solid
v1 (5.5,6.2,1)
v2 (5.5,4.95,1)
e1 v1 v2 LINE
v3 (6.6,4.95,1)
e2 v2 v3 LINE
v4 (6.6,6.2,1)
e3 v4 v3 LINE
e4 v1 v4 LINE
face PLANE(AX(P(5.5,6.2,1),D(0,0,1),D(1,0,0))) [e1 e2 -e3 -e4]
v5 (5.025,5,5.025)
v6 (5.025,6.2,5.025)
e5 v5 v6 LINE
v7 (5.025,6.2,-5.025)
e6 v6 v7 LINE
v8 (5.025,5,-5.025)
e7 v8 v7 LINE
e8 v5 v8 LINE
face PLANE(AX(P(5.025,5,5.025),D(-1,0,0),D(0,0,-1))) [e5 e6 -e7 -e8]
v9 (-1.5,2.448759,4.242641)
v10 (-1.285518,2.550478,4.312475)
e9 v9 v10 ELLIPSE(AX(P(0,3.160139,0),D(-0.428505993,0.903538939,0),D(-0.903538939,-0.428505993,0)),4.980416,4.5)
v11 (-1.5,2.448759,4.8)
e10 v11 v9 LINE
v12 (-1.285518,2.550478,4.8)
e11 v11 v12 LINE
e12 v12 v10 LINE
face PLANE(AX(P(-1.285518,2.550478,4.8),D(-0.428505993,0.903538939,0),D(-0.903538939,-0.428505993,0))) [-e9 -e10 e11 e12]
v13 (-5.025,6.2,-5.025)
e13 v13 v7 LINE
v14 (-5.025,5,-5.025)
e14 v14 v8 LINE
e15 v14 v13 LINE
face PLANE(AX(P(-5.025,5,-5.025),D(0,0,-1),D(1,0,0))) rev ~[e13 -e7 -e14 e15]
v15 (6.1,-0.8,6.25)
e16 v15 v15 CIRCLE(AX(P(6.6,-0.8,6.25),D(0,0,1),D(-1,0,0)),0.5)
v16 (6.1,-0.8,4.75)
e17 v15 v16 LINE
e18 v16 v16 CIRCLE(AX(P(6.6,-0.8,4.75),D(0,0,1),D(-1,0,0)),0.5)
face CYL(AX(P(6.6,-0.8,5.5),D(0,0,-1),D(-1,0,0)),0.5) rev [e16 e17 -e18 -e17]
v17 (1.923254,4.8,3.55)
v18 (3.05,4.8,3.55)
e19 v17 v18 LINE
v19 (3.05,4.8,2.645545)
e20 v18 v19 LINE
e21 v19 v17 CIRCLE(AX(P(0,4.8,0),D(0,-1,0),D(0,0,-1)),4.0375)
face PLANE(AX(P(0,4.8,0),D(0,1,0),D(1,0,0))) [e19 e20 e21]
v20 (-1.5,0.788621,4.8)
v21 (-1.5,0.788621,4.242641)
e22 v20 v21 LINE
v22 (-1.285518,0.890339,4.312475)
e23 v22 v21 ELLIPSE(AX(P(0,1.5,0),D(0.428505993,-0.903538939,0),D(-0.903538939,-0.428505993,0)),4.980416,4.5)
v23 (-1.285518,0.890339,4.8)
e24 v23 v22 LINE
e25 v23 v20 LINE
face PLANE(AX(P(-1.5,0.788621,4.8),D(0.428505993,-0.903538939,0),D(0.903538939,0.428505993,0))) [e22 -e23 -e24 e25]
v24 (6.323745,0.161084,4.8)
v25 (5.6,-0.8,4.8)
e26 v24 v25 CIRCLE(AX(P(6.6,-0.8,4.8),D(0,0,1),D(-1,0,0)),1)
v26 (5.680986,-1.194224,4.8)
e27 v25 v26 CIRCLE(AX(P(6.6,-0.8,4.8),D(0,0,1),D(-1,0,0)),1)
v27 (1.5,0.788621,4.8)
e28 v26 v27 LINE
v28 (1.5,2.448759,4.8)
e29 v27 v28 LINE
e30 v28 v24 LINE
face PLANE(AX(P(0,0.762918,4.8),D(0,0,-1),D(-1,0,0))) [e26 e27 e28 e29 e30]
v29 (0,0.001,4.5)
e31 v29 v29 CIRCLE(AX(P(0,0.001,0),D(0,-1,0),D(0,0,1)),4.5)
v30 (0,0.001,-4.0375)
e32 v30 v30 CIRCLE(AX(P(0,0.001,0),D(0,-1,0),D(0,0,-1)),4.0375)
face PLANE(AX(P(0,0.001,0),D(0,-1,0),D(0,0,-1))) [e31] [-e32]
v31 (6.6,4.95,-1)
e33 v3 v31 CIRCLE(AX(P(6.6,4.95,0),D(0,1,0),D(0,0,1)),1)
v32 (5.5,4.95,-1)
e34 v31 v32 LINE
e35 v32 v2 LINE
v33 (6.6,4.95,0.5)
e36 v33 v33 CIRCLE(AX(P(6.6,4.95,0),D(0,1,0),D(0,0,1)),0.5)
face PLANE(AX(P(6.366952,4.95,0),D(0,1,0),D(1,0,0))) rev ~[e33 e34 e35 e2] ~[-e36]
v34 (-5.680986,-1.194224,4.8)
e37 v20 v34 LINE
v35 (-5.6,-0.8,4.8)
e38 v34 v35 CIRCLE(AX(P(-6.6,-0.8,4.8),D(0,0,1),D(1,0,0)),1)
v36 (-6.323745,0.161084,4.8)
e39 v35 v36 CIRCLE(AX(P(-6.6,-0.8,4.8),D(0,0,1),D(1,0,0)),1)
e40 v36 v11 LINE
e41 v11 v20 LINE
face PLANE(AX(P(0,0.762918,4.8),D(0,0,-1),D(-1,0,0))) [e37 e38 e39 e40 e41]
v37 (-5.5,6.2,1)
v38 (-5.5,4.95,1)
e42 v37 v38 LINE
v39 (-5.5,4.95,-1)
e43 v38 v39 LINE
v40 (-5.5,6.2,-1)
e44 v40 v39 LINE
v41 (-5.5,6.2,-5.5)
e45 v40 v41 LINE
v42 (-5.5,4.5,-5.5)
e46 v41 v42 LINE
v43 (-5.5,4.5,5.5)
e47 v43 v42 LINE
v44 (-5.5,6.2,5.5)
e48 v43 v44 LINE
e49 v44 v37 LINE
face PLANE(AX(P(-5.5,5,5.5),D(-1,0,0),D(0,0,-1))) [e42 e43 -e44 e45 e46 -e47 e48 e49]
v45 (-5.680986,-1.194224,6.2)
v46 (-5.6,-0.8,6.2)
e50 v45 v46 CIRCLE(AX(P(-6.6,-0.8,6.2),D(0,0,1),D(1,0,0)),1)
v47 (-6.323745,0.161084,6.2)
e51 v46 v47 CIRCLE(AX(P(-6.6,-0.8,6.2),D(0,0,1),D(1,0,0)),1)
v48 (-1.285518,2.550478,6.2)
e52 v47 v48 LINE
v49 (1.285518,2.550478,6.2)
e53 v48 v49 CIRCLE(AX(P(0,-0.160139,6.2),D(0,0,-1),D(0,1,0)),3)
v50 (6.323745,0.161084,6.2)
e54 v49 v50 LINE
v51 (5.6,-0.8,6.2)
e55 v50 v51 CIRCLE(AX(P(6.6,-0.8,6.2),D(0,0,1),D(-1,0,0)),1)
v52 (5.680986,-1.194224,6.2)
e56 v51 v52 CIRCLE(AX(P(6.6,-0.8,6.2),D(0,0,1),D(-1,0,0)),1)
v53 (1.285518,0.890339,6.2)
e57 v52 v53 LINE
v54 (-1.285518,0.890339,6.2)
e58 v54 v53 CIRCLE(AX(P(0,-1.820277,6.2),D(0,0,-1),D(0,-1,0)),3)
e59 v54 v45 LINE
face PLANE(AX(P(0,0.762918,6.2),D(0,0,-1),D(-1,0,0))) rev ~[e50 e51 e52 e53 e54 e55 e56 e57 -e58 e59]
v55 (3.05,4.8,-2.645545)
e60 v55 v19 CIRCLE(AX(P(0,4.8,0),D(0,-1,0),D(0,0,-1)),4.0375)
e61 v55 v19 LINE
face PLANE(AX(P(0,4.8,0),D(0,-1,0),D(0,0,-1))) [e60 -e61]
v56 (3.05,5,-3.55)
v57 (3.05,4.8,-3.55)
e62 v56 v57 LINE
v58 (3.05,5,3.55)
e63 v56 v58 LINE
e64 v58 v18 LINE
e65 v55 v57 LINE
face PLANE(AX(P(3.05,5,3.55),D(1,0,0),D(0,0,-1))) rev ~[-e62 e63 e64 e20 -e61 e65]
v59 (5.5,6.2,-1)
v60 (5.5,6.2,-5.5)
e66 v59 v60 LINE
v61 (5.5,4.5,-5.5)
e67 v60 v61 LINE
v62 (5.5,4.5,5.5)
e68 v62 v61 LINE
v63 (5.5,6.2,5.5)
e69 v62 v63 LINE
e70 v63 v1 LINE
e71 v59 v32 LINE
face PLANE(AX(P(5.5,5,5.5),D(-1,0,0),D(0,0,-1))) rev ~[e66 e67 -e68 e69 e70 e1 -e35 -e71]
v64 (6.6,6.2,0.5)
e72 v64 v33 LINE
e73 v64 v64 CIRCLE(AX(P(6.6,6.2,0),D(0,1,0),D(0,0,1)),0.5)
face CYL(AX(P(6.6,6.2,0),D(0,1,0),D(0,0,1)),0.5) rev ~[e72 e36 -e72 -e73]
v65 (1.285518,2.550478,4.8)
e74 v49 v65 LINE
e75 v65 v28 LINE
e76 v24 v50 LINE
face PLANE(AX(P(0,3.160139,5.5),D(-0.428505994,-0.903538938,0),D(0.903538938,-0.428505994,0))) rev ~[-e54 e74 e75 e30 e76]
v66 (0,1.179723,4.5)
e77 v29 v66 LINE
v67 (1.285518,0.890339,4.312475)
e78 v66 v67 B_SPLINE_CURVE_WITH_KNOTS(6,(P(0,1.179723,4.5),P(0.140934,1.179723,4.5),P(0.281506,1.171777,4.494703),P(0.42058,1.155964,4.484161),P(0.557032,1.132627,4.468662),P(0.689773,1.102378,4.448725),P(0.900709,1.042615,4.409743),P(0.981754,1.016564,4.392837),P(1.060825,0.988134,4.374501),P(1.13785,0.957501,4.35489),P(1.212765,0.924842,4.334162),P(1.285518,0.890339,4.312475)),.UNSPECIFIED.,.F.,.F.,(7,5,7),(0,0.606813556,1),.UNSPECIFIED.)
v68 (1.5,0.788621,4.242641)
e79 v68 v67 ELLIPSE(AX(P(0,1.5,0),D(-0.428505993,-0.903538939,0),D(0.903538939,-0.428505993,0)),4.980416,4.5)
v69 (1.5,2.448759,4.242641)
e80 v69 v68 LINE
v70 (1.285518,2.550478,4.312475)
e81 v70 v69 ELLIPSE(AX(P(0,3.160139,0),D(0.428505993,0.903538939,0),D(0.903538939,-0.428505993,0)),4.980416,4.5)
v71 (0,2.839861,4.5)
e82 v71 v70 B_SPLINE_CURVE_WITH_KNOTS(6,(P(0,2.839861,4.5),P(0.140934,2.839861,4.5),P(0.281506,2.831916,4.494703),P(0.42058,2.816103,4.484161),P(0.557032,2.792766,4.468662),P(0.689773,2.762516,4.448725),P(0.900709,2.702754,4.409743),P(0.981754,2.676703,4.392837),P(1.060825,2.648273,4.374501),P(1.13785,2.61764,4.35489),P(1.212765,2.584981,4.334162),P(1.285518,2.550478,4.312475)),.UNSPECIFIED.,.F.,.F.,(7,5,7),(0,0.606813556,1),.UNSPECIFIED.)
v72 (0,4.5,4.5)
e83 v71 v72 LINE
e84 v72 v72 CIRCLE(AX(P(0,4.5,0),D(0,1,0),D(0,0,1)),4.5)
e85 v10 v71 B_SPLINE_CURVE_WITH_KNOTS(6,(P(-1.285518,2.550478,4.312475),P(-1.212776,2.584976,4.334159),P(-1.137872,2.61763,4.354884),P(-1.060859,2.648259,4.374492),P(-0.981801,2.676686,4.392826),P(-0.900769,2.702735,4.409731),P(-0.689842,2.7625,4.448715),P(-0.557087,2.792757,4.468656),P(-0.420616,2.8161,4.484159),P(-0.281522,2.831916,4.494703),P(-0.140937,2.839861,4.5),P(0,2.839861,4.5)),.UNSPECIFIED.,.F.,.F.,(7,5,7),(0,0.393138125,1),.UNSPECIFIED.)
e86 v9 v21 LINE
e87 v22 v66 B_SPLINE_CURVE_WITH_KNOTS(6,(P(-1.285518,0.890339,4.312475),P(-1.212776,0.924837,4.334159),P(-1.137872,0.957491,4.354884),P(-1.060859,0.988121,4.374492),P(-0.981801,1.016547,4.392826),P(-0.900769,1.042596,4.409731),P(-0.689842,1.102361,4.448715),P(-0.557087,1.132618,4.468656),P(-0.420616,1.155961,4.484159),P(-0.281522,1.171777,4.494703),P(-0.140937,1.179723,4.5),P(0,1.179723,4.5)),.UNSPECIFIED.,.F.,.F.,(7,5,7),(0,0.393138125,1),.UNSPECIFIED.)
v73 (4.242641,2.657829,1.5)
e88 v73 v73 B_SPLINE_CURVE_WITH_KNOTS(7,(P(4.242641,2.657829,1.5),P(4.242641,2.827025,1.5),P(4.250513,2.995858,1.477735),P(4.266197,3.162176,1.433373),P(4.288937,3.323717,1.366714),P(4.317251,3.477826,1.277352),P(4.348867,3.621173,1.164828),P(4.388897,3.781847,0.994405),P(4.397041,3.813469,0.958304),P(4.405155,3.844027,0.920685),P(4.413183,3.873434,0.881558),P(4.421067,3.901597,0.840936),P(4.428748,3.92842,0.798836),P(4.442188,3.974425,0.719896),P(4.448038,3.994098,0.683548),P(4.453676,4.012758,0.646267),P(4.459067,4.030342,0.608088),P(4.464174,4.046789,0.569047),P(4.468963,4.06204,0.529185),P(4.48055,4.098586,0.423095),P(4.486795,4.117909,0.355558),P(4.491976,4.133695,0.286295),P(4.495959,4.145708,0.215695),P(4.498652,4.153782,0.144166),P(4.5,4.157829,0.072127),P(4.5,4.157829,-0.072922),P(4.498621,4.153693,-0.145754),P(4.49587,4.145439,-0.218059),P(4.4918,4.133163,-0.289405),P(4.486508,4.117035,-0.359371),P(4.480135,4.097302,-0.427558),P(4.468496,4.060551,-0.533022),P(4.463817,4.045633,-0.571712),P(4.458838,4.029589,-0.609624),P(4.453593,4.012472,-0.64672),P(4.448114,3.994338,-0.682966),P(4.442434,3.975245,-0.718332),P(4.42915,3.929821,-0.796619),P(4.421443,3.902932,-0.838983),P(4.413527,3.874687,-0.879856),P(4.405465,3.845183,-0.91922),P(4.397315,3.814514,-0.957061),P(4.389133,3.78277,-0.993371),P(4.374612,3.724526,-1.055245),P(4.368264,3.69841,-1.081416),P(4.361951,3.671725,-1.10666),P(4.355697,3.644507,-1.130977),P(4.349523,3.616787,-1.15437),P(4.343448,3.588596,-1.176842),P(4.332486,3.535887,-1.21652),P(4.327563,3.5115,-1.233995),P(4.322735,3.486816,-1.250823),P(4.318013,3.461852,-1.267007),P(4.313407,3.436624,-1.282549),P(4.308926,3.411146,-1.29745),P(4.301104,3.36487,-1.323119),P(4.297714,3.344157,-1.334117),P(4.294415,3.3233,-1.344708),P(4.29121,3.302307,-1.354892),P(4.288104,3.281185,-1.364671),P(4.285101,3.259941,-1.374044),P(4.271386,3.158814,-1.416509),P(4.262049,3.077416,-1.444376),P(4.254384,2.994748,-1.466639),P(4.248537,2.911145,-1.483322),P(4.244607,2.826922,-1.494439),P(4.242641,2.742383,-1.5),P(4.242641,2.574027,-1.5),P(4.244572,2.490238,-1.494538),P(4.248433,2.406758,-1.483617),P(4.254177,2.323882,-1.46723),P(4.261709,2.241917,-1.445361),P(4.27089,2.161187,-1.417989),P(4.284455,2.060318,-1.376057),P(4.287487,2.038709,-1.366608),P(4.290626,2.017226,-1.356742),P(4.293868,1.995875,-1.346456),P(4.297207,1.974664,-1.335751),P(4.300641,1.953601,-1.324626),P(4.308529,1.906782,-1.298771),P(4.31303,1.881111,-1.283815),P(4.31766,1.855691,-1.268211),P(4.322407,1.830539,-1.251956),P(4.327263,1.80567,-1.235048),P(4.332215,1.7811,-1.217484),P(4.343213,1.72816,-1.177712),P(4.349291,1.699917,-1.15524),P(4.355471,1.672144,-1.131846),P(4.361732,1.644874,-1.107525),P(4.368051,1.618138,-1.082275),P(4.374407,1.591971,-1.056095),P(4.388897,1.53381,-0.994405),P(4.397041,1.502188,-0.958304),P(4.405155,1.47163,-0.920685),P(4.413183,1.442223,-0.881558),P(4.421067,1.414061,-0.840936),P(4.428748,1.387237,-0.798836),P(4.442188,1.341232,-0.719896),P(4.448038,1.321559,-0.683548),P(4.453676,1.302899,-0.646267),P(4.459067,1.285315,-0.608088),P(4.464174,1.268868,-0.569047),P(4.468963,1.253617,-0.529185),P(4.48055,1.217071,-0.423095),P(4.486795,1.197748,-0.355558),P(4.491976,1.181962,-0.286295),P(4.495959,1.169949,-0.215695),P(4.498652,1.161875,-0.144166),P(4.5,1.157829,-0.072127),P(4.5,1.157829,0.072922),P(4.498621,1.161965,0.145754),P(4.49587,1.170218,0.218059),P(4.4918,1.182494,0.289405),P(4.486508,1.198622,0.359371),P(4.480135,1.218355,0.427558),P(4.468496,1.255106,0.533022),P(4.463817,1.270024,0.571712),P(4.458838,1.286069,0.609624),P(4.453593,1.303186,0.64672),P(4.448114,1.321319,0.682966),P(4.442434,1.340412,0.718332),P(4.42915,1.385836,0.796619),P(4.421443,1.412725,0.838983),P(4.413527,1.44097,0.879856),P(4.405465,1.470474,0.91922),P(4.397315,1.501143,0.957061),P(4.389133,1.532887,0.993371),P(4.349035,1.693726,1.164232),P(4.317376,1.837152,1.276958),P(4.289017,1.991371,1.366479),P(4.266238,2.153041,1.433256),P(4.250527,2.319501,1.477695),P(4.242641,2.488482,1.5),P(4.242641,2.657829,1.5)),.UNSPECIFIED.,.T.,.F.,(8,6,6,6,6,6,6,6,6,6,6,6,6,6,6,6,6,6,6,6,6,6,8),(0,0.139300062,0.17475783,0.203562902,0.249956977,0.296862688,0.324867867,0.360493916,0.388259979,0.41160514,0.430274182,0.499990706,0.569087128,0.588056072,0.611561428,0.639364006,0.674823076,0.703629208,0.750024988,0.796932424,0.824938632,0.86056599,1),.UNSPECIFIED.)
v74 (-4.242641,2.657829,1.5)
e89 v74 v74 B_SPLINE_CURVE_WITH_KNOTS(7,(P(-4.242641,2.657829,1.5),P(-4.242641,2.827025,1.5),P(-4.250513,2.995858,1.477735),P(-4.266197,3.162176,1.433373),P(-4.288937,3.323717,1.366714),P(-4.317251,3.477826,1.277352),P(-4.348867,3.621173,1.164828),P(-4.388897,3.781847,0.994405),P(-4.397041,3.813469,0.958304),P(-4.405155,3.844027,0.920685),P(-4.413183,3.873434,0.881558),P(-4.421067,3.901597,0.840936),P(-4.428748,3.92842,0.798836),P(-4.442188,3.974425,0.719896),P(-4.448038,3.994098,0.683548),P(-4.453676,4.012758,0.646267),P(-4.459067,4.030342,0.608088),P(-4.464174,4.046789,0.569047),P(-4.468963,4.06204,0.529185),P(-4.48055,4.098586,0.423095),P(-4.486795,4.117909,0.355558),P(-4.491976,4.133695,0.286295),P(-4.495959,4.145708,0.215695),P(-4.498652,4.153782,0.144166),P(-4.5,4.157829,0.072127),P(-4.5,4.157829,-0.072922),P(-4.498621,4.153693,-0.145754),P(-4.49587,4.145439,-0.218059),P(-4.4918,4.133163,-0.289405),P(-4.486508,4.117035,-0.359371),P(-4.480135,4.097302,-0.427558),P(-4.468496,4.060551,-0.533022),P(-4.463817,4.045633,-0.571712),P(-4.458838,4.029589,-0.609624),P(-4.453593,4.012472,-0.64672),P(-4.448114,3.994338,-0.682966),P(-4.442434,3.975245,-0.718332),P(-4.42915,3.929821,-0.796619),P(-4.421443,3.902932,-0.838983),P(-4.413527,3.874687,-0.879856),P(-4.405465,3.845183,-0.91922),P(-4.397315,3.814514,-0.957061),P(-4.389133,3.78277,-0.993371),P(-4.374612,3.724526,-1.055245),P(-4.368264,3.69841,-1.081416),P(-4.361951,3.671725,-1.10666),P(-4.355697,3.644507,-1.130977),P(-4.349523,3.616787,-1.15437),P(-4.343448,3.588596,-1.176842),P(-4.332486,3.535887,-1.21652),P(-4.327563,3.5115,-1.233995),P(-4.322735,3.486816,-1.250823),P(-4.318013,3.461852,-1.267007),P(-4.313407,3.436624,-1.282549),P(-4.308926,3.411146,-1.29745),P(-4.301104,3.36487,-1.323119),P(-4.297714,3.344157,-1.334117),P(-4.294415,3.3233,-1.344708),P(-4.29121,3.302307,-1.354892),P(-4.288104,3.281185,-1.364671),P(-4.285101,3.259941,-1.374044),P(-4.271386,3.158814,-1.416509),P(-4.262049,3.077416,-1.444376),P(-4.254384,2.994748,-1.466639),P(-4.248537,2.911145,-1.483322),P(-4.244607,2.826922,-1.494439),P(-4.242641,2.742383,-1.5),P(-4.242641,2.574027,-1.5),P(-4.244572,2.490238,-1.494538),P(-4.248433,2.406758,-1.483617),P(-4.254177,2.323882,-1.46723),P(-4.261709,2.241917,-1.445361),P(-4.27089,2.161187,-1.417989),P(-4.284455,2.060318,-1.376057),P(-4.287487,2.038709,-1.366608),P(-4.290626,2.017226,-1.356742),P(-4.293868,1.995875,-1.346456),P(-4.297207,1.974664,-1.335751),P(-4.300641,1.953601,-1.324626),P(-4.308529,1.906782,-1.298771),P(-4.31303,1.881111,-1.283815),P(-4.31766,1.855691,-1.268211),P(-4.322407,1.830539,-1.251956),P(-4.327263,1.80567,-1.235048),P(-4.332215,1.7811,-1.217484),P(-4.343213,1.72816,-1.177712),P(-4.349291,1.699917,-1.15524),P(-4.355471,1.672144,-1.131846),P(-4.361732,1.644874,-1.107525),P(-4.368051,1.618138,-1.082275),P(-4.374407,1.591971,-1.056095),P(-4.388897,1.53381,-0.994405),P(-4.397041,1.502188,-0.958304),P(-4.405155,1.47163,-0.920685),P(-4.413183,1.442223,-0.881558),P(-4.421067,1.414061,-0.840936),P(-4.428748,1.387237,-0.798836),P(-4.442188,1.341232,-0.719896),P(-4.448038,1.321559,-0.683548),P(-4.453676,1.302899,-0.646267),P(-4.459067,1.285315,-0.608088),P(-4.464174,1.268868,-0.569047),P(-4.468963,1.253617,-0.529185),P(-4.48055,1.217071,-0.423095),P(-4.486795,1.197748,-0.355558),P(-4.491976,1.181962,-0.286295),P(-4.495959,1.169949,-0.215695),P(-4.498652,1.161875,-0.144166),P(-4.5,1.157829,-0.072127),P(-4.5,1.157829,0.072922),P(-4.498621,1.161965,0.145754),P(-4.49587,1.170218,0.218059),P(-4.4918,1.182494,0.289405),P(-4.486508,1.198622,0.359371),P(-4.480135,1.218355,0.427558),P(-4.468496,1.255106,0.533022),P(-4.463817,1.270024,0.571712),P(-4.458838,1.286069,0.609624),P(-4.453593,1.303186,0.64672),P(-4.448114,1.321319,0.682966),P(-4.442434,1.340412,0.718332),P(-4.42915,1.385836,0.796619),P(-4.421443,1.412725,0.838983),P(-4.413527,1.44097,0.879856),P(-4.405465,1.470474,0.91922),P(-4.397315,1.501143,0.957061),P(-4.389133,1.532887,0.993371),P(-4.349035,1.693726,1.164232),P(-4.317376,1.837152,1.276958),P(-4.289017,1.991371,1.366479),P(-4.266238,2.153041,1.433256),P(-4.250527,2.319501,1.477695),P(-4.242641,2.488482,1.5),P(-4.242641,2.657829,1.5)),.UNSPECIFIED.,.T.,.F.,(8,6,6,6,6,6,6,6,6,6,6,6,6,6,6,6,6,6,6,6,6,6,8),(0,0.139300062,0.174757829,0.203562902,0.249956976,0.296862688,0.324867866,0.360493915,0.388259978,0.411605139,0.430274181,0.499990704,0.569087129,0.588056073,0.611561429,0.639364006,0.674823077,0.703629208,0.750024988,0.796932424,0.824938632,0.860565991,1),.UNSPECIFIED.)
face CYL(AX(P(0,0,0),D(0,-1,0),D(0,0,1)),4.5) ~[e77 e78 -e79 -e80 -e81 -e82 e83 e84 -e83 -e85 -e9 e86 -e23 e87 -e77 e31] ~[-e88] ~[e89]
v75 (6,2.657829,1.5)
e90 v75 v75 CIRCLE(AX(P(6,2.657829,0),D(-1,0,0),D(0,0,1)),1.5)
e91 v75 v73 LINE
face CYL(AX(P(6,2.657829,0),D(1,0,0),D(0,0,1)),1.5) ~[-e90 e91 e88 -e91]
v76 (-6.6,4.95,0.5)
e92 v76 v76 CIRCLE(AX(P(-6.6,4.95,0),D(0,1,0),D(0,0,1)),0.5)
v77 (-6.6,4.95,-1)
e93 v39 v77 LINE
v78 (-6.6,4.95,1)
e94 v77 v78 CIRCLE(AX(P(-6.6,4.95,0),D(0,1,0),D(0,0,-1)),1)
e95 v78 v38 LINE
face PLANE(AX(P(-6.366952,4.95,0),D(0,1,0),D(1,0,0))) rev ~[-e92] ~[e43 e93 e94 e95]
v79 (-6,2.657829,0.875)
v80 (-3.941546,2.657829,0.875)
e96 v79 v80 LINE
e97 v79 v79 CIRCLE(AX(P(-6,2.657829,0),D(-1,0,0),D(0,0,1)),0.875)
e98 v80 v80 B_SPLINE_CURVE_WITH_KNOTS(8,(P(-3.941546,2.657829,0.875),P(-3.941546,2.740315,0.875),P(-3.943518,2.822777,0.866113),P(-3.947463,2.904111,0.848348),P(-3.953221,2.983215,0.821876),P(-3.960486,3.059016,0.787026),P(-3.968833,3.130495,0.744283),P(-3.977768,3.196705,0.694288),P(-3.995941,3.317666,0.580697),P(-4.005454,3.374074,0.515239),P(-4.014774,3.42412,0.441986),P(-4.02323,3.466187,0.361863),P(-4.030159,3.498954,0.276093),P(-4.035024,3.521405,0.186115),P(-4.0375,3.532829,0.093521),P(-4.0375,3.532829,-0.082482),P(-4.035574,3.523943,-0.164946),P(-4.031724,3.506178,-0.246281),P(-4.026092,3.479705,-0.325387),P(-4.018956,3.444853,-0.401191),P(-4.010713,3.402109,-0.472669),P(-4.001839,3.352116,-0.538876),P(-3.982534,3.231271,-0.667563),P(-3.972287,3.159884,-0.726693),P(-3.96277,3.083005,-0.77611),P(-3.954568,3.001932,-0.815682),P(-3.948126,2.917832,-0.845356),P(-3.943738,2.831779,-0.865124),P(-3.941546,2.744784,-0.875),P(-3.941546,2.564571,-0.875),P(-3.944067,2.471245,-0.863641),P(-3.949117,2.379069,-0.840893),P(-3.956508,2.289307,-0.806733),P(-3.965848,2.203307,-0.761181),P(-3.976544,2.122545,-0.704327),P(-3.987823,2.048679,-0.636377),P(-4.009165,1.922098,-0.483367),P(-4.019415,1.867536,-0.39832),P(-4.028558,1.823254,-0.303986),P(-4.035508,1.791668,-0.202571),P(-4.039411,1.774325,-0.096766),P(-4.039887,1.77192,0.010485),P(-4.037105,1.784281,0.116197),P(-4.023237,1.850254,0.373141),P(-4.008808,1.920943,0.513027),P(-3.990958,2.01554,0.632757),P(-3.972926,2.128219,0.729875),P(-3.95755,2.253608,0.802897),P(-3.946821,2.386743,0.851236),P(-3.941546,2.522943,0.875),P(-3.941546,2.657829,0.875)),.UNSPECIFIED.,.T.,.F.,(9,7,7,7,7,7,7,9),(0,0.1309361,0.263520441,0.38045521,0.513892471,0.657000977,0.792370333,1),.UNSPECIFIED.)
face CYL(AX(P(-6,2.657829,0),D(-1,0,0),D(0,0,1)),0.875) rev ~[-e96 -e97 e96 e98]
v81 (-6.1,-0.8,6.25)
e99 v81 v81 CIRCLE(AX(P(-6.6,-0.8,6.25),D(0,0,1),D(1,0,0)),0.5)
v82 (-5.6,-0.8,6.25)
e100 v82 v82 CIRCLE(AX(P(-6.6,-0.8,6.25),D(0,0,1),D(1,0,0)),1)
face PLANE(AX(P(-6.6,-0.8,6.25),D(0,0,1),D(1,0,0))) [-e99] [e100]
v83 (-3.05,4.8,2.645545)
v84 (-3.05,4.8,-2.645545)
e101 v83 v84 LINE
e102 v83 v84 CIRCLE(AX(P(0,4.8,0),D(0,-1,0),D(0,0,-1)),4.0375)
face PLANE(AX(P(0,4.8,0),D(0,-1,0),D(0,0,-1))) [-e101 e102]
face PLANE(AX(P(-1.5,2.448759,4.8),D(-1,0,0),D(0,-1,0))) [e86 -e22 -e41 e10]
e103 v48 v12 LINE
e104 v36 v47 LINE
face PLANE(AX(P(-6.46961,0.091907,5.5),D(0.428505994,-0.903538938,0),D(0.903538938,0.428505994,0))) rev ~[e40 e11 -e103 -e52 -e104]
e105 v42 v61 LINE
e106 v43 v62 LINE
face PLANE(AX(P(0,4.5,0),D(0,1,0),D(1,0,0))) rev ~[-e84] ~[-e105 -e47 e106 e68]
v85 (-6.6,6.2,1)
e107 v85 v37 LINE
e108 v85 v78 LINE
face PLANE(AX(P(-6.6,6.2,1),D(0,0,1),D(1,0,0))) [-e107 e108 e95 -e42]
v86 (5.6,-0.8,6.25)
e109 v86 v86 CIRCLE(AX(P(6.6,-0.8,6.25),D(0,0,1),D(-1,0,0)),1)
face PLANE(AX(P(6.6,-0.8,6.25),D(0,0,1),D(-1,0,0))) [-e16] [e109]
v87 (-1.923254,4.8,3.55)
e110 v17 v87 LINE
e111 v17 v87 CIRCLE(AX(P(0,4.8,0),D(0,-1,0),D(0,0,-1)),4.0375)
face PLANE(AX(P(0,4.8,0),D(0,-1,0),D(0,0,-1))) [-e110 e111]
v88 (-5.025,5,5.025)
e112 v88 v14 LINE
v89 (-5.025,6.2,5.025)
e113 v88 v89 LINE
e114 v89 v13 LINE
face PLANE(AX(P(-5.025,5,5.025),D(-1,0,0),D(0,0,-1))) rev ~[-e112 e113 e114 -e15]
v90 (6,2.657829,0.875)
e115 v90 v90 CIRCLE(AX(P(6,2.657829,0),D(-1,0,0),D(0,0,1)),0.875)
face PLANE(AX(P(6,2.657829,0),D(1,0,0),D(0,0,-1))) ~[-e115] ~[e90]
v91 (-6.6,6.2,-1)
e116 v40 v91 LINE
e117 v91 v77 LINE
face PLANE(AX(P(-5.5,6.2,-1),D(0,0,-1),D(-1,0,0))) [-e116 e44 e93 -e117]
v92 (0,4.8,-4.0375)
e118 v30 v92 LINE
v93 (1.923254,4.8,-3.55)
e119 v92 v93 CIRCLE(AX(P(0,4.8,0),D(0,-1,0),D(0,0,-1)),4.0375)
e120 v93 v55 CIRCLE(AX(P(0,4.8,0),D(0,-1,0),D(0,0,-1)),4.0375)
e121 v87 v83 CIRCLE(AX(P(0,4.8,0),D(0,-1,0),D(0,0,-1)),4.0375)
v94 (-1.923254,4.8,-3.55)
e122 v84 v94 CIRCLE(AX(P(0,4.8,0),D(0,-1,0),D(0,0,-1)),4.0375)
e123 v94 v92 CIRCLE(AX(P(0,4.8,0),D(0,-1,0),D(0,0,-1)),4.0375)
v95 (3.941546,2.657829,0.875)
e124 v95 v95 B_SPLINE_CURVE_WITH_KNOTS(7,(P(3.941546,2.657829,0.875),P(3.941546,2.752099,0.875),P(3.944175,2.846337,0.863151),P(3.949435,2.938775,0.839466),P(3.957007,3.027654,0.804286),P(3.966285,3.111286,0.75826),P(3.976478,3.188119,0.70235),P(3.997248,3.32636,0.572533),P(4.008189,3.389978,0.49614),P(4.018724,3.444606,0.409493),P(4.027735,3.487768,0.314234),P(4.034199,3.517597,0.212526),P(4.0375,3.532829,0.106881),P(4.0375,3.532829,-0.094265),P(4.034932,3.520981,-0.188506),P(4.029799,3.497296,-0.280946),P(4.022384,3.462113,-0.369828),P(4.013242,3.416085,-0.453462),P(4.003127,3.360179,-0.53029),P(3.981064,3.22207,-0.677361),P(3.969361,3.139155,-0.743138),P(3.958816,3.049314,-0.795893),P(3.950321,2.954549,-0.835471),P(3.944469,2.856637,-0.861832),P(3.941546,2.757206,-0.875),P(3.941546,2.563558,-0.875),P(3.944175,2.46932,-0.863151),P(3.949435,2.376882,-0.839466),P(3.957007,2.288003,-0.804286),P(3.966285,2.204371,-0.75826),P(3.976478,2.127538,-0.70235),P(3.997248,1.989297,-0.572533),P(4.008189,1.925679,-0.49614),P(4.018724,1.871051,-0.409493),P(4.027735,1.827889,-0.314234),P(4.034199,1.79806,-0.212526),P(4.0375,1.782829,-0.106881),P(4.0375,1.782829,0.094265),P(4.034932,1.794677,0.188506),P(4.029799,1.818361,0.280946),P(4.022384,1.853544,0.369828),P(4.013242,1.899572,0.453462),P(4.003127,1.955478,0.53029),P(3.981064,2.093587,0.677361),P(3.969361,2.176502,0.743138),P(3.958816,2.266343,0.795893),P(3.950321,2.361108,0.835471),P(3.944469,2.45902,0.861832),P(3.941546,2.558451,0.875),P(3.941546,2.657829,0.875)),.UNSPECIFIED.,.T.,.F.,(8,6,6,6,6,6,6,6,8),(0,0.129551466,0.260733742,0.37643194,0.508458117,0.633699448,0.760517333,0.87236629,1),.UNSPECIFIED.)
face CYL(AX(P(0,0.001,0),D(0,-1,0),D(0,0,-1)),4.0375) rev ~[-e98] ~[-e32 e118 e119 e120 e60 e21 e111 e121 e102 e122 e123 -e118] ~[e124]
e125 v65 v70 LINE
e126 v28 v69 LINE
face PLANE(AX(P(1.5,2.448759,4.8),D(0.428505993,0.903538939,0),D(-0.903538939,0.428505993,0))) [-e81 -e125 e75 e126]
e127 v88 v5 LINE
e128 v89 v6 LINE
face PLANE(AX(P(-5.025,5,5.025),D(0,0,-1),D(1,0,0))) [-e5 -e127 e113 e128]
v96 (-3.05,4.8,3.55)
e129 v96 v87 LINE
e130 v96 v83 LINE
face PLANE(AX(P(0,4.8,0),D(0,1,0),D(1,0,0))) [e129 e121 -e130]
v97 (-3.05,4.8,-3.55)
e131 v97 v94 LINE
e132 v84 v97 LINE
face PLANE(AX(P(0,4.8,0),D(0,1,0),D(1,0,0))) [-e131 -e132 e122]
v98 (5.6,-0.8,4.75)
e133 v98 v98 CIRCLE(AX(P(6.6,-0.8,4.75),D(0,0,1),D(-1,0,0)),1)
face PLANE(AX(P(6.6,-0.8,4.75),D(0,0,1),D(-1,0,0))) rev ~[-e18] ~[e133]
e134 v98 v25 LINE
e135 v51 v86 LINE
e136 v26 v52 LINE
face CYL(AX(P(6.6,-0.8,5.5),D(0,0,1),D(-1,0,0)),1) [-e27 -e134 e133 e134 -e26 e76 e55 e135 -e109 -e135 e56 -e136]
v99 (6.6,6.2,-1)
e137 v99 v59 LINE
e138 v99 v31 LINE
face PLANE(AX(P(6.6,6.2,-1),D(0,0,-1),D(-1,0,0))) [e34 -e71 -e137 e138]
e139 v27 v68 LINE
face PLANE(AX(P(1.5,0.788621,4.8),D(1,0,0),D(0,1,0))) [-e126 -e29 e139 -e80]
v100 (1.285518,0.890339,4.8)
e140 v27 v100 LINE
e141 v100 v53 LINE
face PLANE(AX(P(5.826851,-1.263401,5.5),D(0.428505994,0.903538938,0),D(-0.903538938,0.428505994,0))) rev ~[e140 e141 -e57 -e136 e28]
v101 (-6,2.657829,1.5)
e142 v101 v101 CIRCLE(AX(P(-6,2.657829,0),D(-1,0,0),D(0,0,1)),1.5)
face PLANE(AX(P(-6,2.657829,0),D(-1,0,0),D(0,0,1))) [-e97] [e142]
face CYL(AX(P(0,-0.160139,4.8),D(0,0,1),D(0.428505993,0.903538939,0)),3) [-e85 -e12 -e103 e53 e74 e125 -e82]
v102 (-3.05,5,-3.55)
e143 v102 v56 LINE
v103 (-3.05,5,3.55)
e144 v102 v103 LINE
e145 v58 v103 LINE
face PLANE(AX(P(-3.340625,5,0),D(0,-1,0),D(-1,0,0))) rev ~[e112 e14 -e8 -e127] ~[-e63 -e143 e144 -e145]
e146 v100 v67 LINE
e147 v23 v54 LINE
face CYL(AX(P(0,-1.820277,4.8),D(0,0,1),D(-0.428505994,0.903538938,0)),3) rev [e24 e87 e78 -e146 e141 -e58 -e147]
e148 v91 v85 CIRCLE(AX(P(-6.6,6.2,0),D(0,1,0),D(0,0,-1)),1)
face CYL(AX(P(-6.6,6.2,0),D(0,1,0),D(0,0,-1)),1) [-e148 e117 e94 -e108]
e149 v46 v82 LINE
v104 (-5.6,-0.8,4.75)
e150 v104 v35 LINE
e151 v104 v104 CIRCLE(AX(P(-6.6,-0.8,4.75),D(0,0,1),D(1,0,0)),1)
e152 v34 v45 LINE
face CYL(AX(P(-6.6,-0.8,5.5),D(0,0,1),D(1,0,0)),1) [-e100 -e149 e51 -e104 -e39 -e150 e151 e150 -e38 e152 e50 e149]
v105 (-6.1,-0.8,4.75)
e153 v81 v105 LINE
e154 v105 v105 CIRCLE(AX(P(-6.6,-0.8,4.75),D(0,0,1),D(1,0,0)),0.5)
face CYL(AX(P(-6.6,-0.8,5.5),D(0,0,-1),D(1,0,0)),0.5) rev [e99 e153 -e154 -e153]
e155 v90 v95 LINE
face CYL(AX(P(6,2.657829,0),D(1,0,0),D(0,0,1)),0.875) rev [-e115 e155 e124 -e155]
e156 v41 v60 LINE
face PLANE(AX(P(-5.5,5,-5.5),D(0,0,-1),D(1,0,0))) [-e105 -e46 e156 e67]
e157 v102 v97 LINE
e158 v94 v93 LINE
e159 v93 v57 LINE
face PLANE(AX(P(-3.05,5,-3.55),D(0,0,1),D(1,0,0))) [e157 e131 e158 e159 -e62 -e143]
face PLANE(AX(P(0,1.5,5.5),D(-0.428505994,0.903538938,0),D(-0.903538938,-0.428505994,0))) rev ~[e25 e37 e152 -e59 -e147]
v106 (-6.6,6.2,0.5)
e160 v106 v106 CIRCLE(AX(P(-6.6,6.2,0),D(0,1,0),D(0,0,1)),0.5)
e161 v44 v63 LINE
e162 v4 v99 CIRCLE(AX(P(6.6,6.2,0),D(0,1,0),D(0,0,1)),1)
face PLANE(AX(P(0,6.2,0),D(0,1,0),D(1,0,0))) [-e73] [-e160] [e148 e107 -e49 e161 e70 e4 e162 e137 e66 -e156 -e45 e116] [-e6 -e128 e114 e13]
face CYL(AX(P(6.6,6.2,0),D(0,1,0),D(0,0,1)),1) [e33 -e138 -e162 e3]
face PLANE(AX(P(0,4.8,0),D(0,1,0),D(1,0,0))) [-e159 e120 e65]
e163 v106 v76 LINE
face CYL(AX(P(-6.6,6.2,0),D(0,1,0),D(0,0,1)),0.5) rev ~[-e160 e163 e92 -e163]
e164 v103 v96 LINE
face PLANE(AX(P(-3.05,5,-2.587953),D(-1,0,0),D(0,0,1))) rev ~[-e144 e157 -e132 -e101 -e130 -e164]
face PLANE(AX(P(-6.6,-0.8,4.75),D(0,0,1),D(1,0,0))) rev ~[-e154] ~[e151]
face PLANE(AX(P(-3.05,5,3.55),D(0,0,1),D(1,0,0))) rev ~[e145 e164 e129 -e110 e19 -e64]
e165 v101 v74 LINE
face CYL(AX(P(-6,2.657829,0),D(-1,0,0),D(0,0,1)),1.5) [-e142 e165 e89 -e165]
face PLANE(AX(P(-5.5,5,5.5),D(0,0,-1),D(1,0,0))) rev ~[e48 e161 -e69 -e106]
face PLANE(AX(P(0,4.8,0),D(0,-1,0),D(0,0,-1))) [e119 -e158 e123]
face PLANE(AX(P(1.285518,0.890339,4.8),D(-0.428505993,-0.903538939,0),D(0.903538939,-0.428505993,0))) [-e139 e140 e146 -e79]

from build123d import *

# Parameters (mm, degrees)
SKETCH_1_R          = 4.5
SKETCH_1_R_2        = 4
EXTRUDE_1_DEPTH     = 4.5
SKETCH_2_W          = 11
SKETCH_2_H          = 11
SKETCH_2_R          = 4
EXTRUDE_2_DEPTH     = 0.5
SKETCH_3_W          = 6.1
SKETCH_3_H          = 7.1
CUT_EXTRUDE_1_DEPTH = 0.2
SKETCH_4_W          = 11
SKETCH_4_H          = 11
SKETCH_4_W_2        = 10.05
SKETCH_4_H_2        = 10.05
EXTRUDE_3_DEPTH     = 1.2
SKETCH_5_R          = 0.5
EXTRUDE_4_DEPTH     = 1.25
SKETCH_6_R          = 1
SKETCH_6_R_2        = 0.5
EXTRUDE_5_DEPTH     = 0.75
EXTRUDE_5_2_DEPTH   = 0.75
EXTRUDE_6_DEPTH     = 0.7
FILLET_1_R          = 3
EXTRUDE_7_DEPTH     = 0.9
EXTRUDE_8_DEPTH     = 0.2
SKETCH_12_R         = 4.5
CUT_EXTRUDE_2_DEPTH = 0.001
SKETCH_13_R         = 4.0375
CUT_EXTRUDE_3_DEPTH = 4.799
SKETCH_20_R         = 1.5
EXTRUDE_10_DEPTH    = 1.8
SKETCH_21_R         = 0.875
CUT_EXTRUDE_5_DEPTH = 3


with BuildPart() as part:
    # 草图1 → 凸台-拉伸1 (new body)
    with BuildSketch(Plane(origin=(0, 0, 0), x_dir=(1, 0, 0), z_dir=(0, 1, 0))):
        with Locations(Location((0, 0, 0), (0, 0, 270))):
            Circle(SKETCH_1_R)
        with Locations(Location((0, 0, 0), (0, 0, 270))):
            Circle(SKETCH_1_R_2, mode=Mode.SUBTRACT)
    extrude(amount=EXTRUDE_1_DEPTH)

    # 草图2 → 凸台-拉伸2 (add)
    with BuildSketch(Plane(origin=(0, 4.5, 0), x_dir=(1, 0, 0), z_dir=(0, 1, 0))):
        Rectangle(SKETCH_2_W, SKETCH_2_H)
        with Locations(Location((0, 0, 0), (0, 0, 270))):
            Circle(SKETCH_2_R, mode=Mode.SUBTRACT)
    extrude(amount=EXTRUDE_2_DEPTH)

    # 草图3 → 切除-拉伸1 (cut)
    with BuildSketch(Plane(origin=(0, 5, 0), x_dir=(1, 0, 0), z_dir=(0, 1, 0))):
        Rectangle(SKETCH_3_W, SKETCH_3_H)
    extrude(amount=-CUT_EXTRUDE_1_DEPTH, mode=Mode.SUBTRACT)

    # 草图4 → 凸台-拉伸3 (add)
    with BuildSketch(Plane(origin=(0, 5, 0), x_dir=(1, 0, 0), z_dir=(0, 1, 0))):
        Rectangle(SKETCH_4_W, SKETCH_4_H)
        Rectangle(SKETCH_4_W_2, SKETCH_4_H_2, mode=Mode.SUBTRACT)
    extrude(amount=EXTRUDE_3_DEPTH)

    # 草图5 → 凸台-拉伸4 (add)
    with BuildSketch(Plane(origin=(0, 6.2, 0), x_dir=(1, 0, 0), z_dir=(0, 1, 0))):
        with BuildLine():
            Line((5.5, 1), (5.5, -1))
            Line((5.5, -1), (6.6, -1))
            ThreePointArc((6.6, -1), (7.6, 0), (6.6, 1))
            Line((6.6, 1), (5.5, 1))
        make_face()
        with Locations(Location((6.6, 0, 0), (0, 0, 270))):
            Circle(SKETCH_5_R, mode=Mode.SUBTRACT)
        with BuildLine():
            Line((-6.6, -1), (-5.5, -1))
            Line((-5.5, -1), (-5.5, 1))
            Line((-5.5, 1), (-6.6, 1))
            ThreePointArc((-6.6, 1), (-7.6, 0), (-6.6, -1))
        make_face()
        with Locations(Location((-6.6, 0, 0), (0, 0, 270))):
            Circle(SKETCH_5_R, mode=Mode.SUBTRACT)
    extrude(amount=-EXTRUDE_4_DEPTH)



with BuildPart() as body_2:
    # 草图6 → 凸台-拉伸5 (new, symmetric)
    with BuildSketch(Plane.XY.offset(5.5)):
        with Locations((-6.6, -0.8)):
            Circle(SKETCH_6_R)
        with Locations((-6.6, -0.8)):
            Circle(SKETCH_6_R_2, mode=Mode.SUBTRACT)
    extrude(amount=EXTRUDE_5_DEPTH, both=True)



with BuildPart() as body_3:
    # 草图6 → Extrude 5 2 (new, symmetric)
    with BuildSketch(Plane.XY.offset(5.5)):
        with Locations(Location((6.6, -0.8, 0), (0, 0, 180))):
            Circle(SKETCH_6_R)
        with Locations(Location((6.6, -0.8, 0), (0, 0, 180))):
            Circle(SKETCH_6_R_2, mode=Mode.SUBTRACT)
    extrude(amount=EXTRUDE_5_2_DEPTH, both=True)


with BuildPart() as body_2_1:
    add(body_2.part)

    add(body_3.part)  # 凸台-拉伸6 merges body 3
    # 草图7 → 凸台-拉伸6 (add, symmetric)
    with BuildSketch(Plane.XY.offset(5.5)):
        Polygon((-6.469610026, 0.091907201), (0, 3.160138746), (6.469610026, 0.091907201), (5.826851035, -1.263401207), (0, 1.5), (-5.826851035, -1.263401207), align=None)
    extrude(amount=EXTRUDE_6_DEPTH, both=True)

    # 圆角1
    fillet_1_edges = [body_2_1.edges().sort_by_distance(p)[0] for p in [
        (0, 1.5, 5.5),
        (0, 3.160138746, 5.5),
    ]]
    fillet(fillet_1_edges, radius=FILLET_1_R)


with BuildPart() as part_1:
    add(part.part)

    add(body_2_1.part)  # 凸台-拉伸7 merges body 2
    # 草图8 → 凸台-拉伸7 (add)
    with BuildSketch(Plane(origin=(0, 0, 4.8), x_dir=(-1, 0, 0), z_dir=(0, 0, -1))):
        with BuildLine():
            Line((1.5, 2.448759343), (1.5, 0.788620597))
            Line((1.5, 0.788620597), (1.285517981, 0.890339324))
            ThreePointArc((1.285517981, 0.890339324), (0, 1.179722509), (-1.285517981, 0.890339324))
            Line((-1.285517981, 0.890339324), (-1.5, 0.788620597))
            Line((-1.5, 0.788620597), (-1.5, 2.448759343))
            Line((-1.5, 2.448759343), (-1.285517981, 2.55047807))
            ThreePointArc((-1.285517981, 2.55047807), (0, 2.839861254), (1.285517981, 2.55047807))
            Line((1.285517981, 2.55047807), (1.5, 2.448759343))
        make_face()
    extrude(amount=EXTRUDE_7_DEPTH)

    # 草图11 → 凸台-拉伸8 (add)
    with BuildSketch(Plane(origin=(0, 5, 0), x_dir=(1, 0, 0), z_dir=(0, 1, 0))):
        with BuildLine():
            Line((-3.05, 2.587952859), (-3.05, -2.587952859))
            ThreePointArc((-3.05, -2.587952859), (-4, 0), (-3.05, 2.587952859))
        make_face()
        with BuildLine():
            Line((3.05, 2.587952859), (3.05, -2.587952859))
            ThreePointArc((3.05, -2.587952859), (4, 0), (3.05, 2.587952859))
        make_face()
        with BuildLine():
            Line((-1.843230859, 3.55), (1.843230859, 3.55))
            ThreePointArc((1.843230859, 3.55), (0, 4), (-1.843230859, 3.55))
        make_face()
        with BuildLine():
            Line((-1.843230859, -3.55), (1.843230859, -3.55))
            ThreePointArc((1.843230859, -3.55), (0, -4), (-1.843230859, -3.55))
        make_face()
    extrude(amount=-EXTRUDE_8_DEPTH)

    # 草图12 → 切除-拉伸2 (cut)
    with BuildSketch(Plane.XZ):
        with Locations(Location((0, 0, 0), (0, 0, 270))):
            Circle(SKETCH_12_R)
    extrude(amount=-CUT_EXTRUDE_2_DEPTH, mode=Mode.SUBTRACT)

    # 草图13 → 切除-拉伸3 (cut)
    with BuildSketch(Plane.XZ.offset(-0.001)):
        with Locations(Location((0, 0, 0), (0, 0, 270))):
            Circle(SKETCH_13_R)
    extrude(amount=-CUT_EXTRUDE_3_DEPTH, mode=Mode.SUBTRACT)

    # 草图20 → 凸台-拉伸10 (add)
    with BuildSketch(Plane.ZY.offset(6)):
        with Locations((0, 2.657828557)):
            Circle(SKETCH_20_R)
    extrude_10 = extrude(amount=-EXTRUDE_10_DEPTH)

    # 草图21 → 切除-拉伸5 (cut)
    with BuildSketch(Plane.ZY.offset(6)):
        with Locations((0, 2.657828557)):
            Circle(SKETCH_21_R)
    cut_extrude_5 = extrude(amount=-CUT_EXTRUDE_5_DEPTH, mode=Mode.SUBTRACT)

    # 镜向3: 凸台-拉伸10, 切除-拉伸5 across plane
    add(extrude_10.mirror(Plane(origin=(0, 0, 0), x_dir=(0, 0, 1), z_dir=(1, 0, 0))))
    add(cut_extrude_5.mirror(Plane(origin=(0, 0, 0), x_dir=(0, 0, 1), z_dir=(1, 0, 0))), mode=Mode.SUBTRACT)


solid = part_1.part
